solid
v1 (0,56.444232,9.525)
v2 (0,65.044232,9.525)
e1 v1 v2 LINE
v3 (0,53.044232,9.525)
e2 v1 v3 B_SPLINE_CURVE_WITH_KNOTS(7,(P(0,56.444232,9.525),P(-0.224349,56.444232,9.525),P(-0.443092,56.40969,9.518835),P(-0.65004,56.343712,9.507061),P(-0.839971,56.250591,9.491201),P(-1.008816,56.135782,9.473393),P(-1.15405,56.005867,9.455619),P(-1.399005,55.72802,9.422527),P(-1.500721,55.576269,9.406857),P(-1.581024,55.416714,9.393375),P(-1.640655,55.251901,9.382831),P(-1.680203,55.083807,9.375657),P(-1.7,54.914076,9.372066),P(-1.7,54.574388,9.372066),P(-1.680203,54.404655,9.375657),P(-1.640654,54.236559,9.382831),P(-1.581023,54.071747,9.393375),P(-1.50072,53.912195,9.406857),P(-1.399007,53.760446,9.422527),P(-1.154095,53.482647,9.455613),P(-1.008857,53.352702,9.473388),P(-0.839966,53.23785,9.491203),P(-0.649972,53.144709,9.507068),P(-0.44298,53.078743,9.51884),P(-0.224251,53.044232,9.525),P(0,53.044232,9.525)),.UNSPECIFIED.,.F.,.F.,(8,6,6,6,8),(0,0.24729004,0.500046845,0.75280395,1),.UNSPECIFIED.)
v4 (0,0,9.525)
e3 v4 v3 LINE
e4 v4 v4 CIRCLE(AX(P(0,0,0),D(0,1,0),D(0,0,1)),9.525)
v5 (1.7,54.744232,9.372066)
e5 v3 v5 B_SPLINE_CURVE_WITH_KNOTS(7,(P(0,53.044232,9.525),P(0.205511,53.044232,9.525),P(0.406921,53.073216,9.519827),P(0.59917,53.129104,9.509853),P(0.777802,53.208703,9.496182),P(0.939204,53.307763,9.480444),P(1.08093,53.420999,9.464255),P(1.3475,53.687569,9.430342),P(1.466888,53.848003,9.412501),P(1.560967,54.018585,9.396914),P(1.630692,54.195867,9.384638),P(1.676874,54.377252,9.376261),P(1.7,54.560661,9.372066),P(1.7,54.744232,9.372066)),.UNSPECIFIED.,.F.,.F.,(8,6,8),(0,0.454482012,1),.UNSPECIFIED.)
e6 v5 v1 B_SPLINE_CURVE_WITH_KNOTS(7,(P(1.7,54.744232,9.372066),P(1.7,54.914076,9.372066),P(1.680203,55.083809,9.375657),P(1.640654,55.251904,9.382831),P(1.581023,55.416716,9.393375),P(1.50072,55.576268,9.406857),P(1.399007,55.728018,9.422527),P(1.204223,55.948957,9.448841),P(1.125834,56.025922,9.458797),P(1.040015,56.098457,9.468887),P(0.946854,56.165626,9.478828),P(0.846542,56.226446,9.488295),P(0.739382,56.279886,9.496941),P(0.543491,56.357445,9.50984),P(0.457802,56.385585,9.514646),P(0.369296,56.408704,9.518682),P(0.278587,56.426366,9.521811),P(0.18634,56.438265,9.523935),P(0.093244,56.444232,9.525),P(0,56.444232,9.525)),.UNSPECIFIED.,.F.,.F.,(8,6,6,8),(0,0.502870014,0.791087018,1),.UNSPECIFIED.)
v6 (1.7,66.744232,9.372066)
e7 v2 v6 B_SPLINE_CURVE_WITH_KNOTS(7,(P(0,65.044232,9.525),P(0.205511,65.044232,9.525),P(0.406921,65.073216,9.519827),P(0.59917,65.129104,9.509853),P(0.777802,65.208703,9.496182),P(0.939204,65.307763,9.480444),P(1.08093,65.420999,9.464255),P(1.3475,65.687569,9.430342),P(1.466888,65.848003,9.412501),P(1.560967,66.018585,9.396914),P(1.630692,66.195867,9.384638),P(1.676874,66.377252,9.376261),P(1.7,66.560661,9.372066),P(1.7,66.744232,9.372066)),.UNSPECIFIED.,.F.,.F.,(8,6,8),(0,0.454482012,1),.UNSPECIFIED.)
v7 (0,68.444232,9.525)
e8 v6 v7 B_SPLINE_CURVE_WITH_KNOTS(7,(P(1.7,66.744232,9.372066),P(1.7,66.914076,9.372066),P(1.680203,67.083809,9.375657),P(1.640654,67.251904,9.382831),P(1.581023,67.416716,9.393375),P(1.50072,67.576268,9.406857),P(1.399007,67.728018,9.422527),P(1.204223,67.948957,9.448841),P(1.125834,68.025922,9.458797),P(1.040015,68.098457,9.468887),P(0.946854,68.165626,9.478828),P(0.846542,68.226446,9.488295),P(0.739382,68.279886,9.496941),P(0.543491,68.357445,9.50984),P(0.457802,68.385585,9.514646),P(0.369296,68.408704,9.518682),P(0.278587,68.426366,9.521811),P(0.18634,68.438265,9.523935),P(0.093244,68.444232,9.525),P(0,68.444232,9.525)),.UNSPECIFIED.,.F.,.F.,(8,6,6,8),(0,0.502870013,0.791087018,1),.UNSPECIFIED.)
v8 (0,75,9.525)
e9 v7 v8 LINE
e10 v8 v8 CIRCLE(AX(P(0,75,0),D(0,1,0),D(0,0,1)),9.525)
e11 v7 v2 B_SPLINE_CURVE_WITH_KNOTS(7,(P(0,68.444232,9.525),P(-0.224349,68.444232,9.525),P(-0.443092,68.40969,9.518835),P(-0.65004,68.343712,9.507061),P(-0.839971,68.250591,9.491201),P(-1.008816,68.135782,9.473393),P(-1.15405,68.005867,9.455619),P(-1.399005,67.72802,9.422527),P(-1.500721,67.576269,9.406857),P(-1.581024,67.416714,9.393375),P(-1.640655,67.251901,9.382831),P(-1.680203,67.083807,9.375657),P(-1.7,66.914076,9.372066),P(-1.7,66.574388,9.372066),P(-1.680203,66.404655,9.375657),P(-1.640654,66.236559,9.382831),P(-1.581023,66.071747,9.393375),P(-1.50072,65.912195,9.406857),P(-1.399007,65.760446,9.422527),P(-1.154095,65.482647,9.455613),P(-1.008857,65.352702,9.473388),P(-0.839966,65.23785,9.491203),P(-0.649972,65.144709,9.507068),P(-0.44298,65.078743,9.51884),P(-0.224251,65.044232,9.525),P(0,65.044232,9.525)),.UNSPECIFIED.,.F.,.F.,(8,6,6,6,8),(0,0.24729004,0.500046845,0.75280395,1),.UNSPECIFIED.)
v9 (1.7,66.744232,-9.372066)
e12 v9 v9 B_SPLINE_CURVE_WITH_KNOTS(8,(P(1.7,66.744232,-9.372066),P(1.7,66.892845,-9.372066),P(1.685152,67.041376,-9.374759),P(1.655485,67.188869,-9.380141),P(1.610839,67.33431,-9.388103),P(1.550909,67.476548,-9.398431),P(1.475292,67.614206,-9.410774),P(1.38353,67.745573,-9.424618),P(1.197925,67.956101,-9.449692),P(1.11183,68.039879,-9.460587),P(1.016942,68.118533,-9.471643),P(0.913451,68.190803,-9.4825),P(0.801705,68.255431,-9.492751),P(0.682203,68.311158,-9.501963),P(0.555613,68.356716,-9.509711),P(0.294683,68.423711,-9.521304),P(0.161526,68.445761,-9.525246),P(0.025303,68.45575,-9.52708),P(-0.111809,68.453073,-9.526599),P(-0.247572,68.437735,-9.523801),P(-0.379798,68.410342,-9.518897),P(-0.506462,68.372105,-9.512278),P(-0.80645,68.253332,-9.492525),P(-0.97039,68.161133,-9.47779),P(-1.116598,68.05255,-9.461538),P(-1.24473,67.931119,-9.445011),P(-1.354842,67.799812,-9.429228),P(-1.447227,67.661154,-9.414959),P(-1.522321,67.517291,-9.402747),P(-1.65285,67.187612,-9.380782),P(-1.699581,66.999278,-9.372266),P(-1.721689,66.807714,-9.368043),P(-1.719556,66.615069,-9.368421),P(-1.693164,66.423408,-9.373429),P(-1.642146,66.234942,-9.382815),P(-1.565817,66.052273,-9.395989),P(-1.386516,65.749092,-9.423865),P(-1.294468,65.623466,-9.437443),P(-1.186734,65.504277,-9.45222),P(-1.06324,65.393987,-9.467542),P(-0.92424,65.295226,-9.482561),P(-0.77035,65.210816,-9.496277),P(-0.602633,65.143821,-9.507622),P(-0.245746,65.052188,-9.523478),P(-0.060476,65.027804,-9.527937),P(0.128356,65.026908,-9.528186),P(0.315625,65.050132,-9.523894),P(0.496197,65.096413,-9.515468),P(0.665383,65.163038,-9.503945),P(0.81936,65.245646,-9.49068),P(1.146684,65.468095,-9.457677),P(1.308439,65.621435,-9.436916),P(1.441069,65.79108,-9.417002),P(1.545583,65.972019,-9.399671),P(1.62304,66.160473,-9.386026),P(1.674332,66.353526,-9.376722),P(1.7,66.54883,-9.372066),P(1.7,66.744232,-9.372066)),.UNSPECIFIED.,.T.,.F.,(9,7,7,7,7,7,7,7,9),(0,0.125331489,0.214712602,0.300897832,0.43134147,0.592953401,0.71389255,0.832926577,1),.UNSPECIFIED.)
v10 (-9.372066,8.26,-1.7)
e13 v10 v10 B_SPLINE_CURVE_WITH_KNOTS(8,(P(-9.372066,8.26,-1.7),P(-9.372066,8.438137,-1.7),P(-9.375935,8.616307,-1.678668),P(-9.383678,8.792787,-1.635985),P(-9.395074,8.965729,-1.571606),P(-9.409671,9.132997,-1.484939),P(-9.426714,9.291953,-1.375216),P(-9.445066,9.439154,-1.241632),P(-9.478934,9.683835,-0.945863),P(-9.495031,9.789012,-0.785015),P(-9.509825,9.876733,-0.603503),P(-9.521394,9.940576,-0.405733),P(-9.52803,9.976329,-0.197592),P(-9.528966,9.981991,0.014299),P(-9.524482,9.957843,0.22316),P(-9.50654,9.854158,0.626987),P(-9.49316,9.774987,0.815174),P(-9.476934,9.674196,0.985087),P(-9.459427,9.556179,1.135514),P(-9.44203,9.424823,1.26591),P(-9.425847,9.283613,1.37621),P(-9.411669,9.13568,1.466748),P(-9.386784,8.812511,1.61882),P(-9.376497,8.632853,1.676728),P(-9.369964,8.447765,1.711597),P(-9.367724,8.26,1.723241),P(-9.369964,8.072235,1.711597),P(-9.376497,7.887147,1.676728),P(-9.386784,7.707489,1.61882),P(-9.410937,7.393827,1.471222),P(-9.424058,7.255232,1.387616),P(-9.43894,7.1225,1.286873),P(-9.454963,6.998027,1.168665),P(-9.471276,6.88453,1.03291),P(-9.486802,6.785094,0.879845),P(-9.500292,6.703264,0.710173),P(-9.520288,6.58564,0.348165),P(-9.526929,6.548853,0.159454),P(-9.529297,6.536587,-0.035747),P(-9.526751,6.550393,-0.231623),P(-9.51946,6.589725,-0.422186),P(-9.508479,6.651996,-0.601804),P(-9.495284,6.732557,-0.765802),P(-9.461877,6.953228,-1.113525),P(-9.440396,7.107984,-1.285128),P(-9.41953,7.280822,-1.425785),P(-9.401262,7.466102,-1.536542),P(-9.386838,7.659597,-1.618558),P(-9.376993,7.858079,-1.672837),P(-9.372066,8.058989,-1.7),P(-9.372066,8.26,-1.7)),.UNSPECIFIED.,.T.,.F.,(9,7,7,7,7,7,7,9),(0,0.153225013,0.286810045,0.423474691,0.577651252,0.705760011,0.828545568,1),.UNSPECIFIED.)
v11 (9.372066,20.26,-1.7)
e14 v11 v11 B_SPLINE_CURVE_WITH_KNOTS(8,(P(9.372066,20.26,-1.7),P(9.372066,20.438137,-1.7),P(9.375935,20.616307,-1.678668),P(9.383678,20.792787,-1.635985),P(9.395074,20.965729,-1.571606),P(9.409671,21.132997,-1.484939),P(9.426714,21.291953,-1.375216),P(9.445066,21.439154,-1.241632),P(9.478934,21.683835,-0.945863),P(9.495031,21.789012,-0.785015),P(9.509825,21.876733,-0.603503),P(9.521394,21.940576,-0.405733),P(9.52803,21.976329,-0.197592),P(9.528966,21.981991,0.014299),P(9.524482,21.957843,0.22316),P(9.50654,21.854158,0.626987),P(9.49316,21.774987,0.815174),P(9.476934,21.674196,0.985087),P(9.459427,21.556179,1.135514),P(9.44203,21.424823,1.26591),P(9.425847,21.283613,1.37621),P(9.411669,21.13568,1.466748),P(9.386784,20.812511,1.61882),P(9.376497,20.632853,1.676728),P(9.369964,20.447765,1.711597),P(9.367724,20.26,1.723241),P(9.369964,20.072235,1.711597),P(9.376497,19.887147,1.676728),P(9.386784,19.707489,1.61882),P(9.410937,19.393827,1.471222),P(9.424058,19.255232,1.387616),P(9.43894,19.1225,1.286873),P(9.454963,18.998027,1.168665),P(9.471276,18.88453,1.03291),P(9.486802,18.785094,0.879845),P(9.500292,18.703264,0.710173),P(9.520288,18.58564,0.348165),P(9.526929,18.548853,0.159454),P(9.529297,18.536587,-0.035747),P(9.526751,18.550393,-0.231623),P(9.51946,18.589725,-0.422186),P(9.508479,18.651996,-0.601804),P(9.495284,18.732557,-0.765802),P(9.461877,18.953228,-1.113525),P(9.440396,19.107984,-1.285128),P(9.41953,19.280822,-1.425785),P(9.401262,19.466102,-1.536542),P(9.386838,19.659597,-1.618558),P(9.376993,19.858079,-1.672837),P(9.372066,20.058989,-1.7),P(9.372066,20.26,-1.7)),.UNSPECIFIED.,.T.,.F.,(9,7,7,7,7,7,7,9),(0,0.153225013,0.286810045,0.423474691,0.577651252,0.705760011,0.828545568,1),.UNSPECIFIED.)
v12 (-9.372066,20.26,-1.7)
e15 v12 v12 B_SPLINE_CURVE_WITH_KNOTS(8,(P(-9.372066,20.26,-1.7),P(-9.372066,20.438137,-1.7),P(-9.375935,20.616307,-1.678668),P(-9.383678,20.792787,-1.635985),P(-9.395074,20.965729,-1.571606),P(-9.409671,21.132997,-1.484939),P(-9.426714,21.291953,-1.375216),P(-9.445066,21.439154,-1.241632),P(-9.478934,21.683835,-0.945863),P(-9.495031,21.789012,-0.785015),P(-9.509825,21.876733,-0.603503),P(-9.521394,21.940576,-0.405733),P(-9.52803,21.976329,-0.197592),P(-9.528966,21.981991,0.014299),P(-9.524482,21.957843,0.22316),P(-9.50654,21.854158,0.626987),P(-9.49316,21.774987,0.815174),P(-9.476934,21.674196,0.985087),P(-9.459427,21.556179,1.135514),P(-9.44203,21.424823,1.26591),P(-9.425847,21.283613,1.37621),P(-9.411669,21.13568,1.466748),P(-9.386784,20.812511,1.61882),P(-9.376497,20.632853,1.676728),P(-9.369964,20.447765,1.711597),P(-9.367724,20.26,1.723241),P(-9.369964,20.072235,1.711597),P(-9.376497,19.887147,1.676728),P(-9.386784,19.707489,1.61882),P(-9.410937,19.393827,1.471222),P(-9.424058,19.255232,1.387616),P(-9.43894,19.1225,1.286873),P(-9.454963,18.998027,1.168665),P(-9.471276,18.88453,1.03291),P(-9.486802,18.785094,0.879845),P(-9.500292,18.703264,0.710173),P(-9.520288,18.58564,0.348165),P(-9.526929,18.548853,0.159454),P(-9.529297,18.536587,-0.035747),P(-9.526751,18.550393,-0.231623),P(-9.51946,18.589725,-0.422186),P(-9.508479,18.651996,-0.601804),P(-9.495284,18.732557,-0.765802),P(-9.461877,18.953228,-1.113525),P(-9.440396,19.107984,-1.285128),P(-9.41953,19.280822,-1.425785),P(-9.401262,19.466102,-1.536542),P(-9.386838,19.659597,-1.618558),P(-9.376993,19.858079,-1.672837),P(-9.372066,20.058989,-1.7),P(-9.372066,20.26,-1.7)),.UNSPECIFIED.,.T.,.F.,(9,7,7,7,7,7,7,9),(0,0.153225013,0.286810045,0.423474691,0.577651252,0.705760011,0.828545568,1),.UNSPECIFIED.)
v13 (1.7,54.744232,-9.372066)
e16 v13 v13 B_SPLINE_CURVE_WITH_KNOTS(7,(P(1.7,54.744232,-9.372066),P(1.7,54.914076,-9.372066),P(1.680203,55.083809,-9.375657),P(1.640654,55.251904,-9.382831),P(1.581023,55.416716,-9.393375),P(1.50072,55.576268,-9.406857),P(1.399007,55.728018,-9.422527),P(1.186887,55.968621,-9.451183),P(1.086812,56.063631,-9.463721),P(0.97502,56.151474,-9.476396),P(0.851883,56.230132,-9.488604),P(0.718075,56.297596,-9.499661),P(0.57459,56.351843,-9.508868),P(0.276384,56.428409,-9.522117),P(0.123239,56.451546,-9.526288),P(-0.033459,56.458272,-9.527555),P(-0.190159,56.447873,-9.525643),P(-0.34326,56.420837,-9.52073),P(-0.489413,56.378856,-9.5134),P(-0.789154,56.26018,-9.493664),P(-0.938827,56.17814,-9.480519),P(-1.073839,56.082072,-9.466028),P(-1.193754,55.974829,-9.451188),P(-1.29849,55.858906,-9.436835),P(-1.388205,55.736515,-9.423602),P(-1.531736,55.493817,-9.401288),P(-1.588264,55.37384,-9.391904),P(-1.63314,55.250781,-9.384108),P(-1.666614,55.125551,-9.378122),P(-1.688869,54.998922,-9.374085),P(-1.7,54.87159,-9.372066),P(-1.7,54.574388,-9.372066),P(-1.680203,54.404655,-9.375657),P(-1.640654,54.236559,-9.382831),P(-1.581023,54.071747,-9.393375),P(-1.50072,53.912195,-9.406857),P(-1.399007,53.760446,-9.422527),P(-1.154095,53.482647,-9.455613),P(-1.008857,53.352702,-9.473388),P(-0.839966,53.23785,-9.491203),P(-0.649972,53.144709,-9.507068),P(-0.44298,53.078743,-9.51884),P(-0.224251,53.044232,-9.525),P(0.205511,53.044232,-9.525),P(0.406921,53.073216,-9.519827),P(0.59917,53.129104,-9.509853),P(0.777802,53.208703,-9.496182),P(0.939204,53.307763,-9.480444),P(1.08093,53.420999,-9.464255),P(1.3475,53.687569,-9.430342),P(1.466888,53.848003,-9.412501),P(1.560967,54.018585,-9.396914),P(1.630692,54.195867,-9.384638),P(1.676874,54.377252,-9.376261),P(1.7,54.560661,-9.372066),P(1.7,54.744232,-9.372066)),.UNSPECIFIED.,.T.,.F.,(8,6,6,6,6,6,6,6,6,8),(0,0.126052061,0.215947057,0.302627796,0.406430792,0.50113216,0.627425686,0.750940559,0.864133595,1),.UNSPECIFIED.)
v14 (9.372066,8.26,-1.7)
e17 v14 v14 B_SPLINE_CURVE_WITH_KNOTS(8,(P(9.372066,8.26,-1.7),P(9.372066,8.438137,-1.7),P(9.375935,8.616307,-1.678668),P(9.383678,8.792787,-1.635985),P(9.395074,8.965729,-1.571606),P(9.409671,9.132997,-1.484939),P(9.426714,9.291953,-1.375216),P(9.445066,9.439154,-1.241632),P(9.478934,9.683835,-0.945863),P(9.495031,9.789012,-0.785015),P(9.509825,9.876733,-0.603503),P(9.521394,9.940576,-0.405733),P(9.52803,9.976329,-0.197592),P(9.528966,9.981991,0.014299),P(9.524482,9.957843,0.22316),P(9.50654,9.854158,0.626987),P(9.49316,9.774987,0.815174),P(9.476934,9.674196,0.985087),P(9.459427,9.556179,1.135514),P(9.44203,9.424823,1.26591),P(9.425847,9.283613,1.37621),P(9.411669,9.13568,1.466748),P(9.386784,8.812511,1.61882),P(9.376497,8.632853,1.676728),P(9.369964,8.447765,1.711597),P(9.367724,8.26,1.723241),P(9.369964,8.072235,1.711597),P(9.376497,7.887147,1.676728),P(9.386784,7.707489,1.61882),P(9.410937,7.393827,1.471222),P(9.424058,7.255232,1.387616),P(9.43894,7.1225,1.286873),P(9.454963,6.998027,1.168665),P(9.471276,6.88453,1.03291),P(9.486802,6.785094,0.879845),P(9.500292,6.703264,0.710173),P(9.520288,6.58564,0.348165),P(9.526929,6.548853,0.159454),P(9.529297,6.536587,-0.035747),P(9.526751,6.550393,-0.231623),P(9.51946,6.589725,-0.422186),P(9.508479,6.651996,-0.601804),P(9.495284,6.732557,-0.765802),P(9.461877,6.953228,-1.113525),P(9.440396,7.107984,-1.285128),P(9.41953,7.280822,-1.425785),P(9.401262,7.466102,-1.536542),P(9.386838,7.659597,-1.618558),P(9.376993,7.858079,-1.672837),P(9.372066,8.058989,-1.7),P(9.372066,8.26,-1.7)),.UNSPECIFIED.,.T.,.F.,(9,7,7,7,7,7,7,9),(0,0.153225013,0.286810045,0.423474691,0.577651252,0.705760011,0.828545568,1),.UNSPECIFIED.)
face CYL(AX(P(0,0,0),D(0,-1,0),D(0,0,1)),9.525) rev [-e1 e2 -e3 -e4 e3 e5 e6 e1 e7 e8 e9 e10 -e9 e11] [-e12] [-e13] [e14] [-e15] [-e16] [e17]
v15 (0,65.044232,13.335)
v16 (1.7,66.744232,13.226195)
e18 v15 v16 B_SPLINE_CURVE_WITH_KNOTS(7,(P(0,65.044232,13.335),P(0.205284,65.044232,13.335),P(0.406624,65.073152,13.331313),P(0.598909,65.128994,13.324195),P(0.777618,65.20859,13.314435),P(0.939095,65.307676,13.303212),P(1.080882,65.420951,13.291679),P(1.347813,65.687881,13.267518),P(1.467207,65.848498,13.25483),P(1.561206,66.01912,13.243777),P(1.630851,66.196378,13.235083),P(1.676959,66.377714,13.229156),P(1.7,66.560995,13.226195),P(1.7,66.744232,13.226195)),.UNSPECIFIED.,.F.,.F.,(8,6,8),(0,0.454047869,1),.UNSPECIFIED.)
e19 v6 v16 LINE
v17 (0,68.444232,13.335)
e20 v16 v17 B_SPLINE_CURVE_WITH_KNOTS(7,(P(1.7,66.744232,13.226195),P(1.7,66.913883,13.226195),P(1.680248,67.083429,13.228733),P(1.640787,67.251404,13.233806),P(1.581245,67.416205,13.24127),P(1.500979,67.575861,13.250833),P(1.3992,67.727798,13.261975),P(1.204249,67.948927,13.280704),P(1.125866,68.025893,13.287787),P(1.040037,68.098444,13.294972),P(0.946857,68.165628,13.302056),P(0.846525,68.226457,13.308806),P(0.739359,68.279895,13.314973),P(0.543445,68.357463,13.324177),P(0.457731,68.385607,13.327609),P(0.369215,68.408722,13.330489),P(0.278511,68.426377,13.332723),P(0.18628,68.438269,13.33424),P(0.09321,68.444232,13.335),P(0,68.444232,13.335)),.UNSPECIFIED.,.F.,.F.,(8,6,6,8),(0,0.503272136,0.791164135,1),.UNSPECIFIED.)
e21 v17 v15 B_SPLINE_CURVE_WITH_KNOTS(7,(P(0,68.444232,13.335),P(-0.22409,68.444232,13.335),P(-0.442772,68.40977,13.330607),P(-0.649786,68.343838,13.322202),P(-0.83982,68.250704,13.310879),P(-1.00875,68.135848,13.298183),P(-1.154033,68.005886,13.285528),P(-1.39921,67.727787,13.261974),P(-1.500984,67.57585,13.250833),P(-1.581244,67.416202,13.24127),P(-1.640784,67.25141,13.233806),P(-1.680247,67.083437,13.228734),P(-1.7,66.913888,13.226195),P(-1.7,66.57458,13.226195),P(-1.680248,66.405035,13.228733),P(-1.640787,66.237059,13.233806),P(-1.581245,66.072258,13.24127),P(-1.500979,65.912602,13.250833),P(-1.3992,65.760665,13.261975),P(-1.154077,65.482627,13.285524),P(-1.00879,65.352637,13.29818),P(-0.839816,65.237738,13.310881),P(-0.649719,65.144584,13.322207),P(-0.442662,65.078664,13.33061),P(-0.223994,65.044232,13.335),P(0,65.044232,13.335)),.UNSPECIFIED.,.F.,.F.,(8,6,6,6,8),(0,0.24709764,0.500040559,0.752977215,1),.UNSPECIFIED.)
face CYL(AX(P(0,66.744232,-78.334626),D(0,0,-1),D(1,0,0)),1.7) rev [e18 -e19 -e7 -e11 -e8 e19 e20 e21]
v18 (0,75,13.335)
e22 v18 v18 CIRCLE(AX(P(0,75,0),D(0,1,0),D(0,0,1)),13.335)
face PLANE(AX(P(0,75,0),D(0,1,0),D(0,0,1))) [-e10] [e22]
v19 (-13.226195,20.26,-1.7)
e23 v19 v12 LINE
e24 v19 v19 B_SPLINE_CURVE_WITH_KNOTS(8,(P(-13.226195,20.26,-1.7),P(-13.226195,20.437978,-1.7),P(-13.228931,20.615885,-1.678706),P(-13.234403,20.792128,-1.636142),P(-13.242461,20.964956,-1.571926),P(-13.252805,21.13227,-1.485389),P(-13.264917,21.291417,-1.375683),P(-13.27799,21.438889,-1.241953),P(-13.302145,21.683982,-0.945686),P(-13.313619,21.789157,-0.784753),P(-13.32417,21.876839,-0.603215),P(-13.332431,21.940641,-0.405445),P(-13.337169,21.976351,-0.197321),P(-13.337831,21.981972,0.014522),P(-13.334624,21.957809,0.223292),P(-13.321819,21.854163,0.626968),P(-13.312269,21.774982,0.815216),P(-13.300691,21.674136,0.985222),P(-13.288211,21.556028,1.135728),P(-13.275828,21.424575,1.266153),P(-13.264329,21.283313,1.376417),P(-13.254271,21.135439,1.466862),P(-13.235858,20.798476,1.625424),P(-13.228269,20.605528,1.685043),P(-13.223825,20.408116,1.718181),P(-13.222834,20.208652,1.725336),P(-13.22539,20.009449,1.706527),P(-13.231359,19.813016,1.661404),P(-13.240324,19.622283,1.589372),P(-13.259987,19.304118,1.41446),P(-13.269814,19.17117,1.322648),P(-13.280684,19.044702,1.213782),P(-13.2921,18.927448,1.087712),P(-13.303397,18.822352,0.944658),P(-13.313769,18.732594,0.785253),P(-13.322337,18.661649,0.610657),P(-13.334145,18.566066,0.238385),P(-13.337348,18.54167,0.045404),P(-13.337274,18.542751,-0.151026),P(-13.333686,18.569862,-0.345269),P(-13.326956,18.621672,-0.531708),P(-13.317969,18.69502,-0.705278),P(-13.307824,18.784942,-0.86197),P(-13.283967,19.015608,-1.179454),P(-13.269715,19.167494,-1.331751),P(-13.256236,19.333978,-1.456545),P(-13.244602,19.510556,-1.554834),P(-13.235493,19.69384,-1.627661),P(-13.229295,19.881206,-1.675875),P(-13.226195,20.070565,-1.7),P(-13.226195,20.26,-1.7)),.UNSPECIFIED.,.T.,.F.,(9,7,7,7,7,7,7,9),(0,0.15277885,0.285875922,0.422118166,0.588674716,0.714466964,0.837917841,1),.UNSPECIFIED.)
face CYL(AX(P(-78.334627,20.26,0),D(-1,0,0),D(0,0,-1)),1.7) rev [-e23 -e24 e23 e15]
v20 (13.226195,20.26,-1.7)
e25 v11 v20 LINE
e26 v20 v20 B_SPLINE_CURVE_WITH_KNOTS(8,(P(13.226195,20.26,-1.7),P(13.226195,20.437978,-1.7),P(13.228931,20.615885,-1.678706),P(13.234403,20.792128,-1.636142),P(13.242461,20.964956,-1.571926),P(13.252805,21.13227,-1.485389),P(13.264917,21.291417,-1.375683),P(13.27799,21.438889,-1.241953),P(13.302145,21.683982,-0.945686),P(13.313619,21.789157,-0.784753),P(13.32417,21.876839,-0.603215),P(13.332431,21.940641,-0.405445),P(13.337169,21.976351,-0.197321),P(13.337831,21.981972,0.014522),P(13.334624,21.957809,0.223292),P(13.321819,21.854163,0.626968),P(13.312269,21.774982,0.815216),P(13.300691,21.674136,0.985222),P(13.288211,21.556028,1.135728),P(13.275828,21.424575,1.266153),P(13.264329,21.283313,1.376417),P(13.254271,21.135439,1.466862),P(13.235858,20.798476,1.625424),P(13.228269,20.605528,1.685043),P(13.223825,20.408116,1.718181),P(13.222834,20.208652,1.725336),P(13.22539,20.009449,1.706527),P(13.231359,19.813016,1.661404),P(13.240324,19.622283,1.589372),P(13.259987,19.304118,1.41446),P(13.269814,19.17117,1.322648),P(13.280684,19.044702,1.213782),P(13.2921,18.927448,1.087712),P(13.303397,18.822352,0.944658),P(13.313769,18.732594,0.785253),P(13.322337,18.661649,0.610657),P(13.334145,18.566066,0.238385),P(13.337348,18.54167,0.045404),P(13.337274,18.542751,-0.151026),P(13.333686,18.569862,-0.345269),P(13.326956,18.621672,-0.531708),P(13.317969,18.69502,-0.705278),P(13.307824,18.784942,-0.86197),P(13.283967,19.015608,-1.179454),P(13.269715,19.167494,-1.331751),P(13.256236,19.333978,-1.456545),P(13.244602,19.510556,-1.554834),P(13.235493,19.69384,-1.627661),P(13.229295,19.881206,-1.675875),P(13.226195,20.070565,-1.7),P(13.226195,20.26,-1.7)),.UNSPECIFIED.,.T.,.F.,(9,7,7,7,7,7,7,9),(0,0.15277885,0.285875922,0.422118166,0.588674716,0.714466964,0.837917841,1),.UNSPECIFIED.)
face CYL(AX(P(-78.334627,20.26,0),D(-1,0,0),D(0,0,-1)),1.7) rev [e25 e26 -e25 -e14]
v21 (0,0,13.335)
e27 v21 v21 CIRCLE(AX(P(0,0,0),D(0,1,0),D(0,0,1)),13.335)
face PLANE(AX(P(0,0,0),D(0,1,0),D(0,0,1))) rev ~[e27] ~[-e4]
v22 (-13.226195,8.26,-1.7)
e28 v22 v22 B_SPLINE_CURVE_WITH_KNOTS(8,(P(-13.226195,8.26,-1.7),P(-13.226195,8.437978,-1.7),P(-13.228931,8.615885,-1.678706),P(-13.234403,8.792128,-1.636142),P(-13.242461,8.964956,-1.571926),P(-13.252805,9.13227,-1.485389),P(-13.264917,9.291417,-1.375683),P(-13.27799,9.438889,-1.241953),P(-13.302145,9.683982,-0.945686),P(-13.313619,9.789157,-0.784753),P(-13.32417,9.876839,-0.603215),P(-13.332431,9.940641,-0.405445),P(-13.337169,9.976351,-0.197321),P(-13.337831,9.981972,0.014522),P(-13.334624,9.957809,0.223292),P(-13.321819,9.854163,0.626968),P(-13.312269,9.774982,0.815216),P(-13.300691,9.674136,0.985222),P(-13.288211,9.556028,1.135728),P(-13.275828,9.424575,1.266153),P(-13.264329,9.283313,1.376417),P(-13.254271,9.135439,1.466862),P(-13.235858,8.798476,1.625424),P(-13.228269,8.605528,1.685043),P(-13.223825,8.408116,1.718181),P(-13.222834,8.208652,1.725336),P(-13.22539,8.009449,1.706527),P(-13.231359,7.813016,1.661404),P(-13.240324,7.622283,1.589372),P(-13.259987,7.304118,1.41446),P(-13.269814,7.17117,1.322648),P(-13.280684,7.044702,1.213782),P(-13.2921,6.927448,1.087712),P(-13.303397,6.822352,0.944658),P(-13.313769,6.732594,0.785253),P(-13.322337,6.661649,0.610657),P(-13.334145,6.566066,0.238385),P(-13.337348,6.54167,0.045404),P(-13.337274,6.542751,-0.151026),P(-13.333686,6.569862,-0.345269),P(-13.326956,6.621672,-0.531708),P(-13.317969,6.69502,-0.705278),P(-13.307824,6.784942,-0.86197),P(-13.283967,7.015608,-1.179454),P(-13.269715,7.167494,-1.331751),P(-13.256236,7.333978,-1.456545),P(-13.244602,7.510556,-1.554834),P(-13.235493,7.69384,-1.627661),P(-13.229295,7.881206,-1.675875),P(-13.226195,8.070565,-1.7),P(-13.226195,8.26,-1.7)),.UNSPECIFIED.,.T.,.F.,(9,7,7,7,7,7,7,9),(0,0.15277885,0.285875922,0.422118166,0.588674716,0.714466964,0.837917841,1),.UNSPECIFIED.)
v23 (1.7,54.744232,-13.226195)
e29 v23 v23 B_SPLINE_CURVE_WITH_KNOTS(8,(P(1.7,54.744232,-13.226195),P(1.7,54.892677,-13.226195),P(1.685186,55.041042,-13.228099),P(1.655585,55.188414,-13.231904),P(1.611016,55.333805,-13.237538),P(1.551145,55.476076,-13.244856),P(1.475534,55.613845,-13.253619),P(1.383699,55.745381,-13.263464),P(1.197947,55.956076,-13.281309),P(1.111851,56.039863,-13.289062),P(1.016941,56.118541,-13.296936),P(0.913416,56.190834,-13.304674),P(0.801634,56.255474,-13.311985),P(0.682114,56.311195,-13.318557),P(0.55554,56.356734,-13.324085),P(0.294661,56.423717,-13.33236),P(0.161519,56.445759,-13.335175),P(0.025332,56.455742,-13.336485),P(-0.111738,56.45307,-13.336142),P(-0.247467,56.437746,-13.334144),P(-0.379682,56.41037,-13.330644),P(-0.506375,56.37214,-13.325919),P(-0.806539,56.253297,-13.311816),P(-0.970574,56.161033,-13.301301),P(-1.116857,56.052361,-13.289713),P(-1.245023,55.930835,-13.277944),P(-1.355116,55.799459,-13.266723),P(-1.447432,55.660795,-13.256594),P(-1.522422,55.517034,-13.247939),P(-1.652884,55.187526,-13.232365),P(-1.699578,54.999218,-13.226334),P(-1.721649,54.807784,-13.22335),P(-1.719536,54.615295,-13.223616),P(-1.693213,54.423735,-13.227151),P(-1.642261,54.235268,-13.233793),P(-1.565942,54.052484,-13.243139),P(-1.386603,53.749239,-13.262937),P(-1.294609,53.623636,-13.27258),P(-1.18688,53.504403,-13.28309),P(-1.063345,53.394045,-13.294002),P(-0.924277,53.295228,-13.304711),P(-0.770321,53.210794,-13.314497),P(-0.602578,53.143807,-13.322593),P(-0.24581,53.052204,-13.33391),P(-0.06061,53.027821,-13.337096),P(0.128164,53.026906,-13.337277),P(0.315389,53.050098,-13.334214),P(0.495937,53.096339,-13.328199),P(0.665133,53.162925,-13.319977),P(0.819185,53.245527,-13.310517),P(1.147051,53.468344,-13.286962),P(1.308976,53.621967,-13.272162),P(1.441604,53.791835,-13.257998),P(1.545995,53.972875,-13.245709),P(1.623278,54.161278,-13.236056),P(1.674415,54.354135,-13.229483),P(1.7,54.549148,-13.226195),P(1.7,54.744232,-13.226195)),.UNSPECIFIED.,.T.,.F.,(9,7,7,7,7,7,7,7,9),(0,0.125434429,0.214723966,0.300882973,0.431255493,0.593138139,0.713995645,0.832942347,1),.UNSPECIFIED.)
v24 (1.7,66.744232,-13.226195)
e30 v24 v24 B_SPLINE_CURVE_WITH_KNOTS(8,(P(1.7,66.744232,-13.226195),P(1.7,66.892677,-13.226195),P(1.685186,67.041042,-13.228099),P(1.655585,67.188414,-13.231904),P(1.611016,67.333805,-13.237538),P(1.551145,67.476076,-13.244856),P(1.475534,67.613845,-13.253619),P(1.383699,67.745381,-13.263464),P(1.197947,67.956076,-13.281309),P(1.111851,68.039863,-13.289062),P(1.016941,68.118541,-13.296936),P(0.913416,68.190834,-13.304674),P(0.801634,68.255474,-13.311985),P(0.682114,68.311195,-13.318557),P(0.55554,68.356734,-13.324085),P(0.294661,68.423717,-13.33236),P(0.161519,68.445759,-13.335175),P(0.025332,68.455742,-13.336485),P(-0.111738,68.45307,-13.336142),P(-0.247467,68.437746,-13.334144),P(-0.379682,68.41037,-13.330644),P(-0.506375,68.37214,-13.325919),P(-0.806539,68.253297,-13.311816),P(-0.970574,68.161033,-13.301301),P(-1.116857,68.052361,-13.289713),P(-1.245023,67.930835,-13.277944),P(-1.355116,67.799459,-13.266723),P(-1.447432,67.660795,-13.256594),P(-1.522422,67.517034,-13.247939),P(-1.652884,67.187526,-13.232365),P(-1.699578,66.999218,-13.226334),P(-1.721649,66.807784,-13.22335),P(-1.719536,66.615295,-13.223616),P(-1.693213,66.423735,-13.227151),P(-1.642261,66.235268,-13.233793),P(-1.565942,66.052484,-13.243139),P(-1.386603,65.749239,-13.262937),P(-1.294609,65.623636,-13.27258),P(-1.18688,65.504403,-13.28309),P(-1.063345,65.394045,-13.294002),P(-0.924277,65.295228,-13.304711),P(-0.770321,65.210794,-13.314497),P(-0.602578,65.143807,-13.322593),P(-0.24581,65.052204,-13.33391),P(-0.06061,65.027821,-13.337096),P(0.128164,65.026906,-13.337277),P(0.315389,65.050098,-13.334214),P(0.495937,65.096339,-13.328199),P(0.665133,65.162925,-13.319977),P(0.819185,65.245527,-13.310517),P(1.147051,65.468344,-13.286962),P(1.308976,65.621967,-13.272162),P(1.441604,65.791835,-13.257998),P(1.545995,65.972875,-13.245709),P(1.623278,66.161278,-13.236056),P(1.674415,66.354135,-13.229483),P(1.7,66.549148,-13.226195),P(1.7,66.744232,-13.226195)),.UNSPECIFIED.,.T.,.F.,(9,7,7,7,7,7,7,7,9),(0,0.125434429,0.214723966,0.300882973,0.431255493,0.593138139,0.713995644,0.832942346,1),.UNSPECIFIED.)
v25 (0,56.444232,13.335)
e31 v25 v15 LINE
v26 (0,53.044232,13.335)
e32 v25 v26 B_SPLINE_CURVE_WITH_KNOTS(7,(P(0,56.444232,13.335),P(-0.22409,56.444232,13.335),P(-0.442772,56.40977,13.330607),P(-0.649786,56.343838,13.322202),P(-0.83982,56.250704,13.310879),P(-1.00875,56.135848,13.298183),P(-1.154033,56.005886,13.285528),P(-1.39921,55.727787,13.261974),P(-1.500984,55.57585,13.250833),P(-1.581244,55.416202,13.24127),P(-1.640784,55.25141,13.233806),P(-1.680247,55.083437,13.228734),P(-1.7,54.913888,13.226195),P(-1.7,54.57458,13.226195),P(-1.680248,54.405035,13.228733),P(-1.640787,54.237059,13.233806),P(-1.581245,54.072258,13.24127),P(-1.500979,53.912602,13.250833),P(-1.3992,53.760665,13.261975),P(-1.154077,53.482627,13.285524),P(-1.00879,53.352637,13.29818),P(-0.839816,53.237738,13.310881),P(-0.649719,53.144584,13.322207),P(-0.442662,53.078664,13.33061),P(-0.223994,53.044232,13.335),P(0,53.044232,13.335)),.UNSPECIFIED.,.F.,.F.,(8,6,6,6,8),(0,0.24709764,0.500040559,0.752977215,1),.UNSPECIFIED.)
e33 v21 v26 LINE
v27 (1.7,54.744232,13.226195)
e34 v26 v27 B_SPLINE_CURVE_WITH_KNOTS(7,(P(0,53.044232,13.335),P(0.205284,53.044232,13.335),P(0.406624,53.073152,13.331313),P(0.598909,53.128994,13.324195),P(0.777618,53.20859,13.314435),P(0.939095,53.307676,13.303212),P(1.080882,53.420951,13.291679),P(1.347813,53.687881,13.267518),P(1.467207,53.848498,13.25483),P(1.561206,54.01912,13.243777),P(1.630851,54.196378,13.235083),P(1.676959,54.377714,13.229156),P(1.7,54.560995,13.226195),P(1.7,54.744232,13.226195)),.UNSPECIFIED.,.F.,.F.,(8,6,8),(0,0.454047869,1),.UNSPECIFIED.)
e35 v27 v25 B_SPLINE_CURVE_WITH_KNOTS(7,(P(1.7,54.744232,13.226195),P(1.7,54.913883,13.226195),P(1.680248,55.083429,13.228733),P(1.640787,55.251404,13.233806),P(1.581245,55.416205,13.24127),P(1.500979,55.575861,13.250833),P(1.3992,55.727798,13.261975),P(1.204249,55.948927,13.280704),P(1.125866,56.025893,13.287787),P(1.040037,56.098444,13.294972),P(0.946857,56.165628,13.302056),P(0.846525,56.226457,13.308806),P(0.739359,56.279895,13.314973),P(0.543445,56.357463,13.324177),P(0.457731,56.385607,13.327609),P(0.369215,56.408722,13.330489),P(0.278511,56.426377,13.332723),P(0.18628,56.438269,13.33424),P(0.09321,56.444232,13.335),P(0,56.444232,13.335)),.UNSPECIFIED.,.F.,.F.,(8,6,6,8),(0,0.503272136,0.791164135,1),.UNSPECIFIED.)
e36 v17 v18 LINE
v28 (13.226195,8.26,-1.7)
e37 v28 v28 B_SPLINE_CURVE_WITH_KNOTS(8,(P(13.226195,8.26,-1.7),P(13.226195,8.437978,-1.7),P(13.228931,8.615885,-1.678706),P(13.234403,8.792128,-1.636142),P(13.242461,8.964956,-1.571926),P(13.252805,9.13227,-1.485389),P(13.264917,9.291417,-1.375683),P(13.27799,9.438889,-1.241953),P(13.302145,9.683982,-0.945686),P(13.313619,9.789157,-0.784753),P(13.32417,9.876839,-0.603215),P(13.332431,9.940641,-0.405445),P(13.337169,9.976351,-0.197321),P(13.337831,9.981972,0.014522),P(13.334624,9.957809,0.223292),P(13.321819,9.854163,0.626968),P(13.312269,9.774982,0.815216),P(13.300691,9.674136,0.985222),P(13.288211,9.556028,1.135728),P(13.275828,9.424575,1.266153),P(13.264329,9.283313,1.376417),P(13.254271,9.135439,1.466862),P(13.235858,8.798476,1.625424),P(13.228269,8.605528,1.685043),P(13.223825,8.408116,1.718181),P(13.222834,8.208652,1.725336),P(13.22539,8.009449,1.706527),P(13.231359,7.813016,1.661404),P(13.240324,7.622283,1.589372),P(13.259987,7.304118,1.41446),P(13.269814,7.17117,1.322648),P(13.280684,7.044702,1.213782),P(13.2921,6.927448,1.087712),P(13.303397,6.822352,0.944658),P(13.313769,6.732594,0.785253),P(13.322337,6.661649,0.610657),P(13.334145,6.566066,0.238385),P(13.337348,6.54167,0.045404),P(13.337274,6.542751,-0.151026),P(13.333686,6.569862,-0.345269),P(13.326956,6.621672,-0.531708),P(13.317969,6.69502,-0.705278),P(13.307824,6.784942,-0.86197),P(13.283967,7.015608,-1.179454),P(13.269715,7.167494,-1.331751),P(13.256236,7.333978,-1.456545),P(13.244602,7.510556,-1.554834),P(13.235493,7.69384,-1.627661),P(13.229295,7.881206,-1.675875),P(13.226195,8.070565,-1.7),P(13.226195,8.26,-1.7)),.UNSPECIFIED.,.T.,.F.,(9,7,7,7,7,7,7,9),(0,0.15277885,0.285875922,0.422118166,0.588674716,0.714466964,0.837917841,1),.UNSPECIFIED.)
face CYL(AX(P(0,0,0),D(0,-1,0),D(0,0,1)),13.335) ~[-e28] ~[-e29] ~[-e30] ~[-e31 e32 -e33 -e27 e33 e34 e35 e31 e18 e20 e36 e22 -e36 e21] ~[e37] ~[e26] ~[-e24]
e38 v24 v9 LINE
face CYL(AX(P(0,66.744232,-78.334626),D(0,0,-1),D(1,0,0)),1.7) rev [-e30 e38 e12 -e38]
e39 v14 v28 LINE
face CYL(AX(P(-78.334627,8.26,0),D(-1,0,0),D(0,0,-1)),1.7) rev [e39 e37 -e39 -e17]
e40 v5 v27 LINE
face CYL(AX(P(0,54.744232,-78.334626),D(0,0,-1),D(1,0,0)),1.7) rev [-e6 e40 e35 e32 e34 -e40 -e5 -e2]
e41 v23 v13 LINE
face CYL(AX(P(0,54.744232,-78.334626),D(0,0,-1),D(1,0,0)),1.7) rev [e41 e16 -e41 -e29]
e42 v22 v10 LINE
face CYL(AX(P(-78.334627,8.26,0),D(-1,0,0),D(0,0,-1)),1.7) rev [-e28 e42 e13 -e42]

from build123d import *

# Parameters (mm, degrees)
SKETCH1_R               = 13.335
SKETCH1_R_2             = 9.525
BOSS_EXTRUDE1_DEPTH     = 75
CUT_EXTRUDE1_DEPTH      = 78.334626462
CUT_EXTRUDE1_DEPTH_BACK = 78.334626462
SKETCH4_R               = 1.7
CUT_EXTRUDE2_DEPTH      = 78.334626598
CUT_EXTRUDE2_DEPTH_BACK = 78.334626598
SKETCH7_R               = 1.7


with BuildPart() as part:
    # Sketch1 → Boss-Extrude1 (new body)
    with BuildSketch(Plane(origin=(0, 0, 0), x_dir=(1, 0, 0), z_dir=(0, 1, 0))):
        with Locations(Location((0, 0, 0), (0, 0, 270))):
            Circle(SKETCH1_R)
        with Locations(Location((0, 0, 0), (0, 0, 270))):
            Circle(SKETCH1_R_2, mode=Mode.SUBTRACT)
    extrude(amount=BOSS_EXTRUDE1_DEPTH)

    # Sketch4 → Cut-Extrude1 (cut, two sides: drawn at the far end of the back side and taken through both)
    with BuildSketch(Plane.XY.offset(-CUT_EXTRUDE1_DEPTH_BACK)):
        with Locations((0, 66.744231704)):
            Circle(SKETCH4_R)
        with Locations((0, 54.744231704)):
            Circle(SKETCH4_R)
    extrude(amount=CUT_EXTRUDE1_DEPTH + CUT_EXTRUDE1_DEPTH_BACK, mode=Mode.SUBTRACT)

    # Sketch7 → Cut-Extrude2 (cut, two sides: drawn at the far end of the back side and taken through both)
    with BuildSketch(Plane(origin=(0, 0, 0), x_dir=(0, 0, -1), z_dir=(1, 0, 0)).offset(-CUT_EXTRUDE2_DEPTH_BACK)):
        with Locations((0, 8.26)):
            Circle(SKETCH7_R)
        with Locations((0, 20.26)):
            Circle(SKETCH7_R)
    extrude(amount=CUT_EXTRUDE2_DEPTH + CUT_EXTRUDE2_DEPTH_BACK, mode=Mode.SUBTRACT)


solid = part.part
